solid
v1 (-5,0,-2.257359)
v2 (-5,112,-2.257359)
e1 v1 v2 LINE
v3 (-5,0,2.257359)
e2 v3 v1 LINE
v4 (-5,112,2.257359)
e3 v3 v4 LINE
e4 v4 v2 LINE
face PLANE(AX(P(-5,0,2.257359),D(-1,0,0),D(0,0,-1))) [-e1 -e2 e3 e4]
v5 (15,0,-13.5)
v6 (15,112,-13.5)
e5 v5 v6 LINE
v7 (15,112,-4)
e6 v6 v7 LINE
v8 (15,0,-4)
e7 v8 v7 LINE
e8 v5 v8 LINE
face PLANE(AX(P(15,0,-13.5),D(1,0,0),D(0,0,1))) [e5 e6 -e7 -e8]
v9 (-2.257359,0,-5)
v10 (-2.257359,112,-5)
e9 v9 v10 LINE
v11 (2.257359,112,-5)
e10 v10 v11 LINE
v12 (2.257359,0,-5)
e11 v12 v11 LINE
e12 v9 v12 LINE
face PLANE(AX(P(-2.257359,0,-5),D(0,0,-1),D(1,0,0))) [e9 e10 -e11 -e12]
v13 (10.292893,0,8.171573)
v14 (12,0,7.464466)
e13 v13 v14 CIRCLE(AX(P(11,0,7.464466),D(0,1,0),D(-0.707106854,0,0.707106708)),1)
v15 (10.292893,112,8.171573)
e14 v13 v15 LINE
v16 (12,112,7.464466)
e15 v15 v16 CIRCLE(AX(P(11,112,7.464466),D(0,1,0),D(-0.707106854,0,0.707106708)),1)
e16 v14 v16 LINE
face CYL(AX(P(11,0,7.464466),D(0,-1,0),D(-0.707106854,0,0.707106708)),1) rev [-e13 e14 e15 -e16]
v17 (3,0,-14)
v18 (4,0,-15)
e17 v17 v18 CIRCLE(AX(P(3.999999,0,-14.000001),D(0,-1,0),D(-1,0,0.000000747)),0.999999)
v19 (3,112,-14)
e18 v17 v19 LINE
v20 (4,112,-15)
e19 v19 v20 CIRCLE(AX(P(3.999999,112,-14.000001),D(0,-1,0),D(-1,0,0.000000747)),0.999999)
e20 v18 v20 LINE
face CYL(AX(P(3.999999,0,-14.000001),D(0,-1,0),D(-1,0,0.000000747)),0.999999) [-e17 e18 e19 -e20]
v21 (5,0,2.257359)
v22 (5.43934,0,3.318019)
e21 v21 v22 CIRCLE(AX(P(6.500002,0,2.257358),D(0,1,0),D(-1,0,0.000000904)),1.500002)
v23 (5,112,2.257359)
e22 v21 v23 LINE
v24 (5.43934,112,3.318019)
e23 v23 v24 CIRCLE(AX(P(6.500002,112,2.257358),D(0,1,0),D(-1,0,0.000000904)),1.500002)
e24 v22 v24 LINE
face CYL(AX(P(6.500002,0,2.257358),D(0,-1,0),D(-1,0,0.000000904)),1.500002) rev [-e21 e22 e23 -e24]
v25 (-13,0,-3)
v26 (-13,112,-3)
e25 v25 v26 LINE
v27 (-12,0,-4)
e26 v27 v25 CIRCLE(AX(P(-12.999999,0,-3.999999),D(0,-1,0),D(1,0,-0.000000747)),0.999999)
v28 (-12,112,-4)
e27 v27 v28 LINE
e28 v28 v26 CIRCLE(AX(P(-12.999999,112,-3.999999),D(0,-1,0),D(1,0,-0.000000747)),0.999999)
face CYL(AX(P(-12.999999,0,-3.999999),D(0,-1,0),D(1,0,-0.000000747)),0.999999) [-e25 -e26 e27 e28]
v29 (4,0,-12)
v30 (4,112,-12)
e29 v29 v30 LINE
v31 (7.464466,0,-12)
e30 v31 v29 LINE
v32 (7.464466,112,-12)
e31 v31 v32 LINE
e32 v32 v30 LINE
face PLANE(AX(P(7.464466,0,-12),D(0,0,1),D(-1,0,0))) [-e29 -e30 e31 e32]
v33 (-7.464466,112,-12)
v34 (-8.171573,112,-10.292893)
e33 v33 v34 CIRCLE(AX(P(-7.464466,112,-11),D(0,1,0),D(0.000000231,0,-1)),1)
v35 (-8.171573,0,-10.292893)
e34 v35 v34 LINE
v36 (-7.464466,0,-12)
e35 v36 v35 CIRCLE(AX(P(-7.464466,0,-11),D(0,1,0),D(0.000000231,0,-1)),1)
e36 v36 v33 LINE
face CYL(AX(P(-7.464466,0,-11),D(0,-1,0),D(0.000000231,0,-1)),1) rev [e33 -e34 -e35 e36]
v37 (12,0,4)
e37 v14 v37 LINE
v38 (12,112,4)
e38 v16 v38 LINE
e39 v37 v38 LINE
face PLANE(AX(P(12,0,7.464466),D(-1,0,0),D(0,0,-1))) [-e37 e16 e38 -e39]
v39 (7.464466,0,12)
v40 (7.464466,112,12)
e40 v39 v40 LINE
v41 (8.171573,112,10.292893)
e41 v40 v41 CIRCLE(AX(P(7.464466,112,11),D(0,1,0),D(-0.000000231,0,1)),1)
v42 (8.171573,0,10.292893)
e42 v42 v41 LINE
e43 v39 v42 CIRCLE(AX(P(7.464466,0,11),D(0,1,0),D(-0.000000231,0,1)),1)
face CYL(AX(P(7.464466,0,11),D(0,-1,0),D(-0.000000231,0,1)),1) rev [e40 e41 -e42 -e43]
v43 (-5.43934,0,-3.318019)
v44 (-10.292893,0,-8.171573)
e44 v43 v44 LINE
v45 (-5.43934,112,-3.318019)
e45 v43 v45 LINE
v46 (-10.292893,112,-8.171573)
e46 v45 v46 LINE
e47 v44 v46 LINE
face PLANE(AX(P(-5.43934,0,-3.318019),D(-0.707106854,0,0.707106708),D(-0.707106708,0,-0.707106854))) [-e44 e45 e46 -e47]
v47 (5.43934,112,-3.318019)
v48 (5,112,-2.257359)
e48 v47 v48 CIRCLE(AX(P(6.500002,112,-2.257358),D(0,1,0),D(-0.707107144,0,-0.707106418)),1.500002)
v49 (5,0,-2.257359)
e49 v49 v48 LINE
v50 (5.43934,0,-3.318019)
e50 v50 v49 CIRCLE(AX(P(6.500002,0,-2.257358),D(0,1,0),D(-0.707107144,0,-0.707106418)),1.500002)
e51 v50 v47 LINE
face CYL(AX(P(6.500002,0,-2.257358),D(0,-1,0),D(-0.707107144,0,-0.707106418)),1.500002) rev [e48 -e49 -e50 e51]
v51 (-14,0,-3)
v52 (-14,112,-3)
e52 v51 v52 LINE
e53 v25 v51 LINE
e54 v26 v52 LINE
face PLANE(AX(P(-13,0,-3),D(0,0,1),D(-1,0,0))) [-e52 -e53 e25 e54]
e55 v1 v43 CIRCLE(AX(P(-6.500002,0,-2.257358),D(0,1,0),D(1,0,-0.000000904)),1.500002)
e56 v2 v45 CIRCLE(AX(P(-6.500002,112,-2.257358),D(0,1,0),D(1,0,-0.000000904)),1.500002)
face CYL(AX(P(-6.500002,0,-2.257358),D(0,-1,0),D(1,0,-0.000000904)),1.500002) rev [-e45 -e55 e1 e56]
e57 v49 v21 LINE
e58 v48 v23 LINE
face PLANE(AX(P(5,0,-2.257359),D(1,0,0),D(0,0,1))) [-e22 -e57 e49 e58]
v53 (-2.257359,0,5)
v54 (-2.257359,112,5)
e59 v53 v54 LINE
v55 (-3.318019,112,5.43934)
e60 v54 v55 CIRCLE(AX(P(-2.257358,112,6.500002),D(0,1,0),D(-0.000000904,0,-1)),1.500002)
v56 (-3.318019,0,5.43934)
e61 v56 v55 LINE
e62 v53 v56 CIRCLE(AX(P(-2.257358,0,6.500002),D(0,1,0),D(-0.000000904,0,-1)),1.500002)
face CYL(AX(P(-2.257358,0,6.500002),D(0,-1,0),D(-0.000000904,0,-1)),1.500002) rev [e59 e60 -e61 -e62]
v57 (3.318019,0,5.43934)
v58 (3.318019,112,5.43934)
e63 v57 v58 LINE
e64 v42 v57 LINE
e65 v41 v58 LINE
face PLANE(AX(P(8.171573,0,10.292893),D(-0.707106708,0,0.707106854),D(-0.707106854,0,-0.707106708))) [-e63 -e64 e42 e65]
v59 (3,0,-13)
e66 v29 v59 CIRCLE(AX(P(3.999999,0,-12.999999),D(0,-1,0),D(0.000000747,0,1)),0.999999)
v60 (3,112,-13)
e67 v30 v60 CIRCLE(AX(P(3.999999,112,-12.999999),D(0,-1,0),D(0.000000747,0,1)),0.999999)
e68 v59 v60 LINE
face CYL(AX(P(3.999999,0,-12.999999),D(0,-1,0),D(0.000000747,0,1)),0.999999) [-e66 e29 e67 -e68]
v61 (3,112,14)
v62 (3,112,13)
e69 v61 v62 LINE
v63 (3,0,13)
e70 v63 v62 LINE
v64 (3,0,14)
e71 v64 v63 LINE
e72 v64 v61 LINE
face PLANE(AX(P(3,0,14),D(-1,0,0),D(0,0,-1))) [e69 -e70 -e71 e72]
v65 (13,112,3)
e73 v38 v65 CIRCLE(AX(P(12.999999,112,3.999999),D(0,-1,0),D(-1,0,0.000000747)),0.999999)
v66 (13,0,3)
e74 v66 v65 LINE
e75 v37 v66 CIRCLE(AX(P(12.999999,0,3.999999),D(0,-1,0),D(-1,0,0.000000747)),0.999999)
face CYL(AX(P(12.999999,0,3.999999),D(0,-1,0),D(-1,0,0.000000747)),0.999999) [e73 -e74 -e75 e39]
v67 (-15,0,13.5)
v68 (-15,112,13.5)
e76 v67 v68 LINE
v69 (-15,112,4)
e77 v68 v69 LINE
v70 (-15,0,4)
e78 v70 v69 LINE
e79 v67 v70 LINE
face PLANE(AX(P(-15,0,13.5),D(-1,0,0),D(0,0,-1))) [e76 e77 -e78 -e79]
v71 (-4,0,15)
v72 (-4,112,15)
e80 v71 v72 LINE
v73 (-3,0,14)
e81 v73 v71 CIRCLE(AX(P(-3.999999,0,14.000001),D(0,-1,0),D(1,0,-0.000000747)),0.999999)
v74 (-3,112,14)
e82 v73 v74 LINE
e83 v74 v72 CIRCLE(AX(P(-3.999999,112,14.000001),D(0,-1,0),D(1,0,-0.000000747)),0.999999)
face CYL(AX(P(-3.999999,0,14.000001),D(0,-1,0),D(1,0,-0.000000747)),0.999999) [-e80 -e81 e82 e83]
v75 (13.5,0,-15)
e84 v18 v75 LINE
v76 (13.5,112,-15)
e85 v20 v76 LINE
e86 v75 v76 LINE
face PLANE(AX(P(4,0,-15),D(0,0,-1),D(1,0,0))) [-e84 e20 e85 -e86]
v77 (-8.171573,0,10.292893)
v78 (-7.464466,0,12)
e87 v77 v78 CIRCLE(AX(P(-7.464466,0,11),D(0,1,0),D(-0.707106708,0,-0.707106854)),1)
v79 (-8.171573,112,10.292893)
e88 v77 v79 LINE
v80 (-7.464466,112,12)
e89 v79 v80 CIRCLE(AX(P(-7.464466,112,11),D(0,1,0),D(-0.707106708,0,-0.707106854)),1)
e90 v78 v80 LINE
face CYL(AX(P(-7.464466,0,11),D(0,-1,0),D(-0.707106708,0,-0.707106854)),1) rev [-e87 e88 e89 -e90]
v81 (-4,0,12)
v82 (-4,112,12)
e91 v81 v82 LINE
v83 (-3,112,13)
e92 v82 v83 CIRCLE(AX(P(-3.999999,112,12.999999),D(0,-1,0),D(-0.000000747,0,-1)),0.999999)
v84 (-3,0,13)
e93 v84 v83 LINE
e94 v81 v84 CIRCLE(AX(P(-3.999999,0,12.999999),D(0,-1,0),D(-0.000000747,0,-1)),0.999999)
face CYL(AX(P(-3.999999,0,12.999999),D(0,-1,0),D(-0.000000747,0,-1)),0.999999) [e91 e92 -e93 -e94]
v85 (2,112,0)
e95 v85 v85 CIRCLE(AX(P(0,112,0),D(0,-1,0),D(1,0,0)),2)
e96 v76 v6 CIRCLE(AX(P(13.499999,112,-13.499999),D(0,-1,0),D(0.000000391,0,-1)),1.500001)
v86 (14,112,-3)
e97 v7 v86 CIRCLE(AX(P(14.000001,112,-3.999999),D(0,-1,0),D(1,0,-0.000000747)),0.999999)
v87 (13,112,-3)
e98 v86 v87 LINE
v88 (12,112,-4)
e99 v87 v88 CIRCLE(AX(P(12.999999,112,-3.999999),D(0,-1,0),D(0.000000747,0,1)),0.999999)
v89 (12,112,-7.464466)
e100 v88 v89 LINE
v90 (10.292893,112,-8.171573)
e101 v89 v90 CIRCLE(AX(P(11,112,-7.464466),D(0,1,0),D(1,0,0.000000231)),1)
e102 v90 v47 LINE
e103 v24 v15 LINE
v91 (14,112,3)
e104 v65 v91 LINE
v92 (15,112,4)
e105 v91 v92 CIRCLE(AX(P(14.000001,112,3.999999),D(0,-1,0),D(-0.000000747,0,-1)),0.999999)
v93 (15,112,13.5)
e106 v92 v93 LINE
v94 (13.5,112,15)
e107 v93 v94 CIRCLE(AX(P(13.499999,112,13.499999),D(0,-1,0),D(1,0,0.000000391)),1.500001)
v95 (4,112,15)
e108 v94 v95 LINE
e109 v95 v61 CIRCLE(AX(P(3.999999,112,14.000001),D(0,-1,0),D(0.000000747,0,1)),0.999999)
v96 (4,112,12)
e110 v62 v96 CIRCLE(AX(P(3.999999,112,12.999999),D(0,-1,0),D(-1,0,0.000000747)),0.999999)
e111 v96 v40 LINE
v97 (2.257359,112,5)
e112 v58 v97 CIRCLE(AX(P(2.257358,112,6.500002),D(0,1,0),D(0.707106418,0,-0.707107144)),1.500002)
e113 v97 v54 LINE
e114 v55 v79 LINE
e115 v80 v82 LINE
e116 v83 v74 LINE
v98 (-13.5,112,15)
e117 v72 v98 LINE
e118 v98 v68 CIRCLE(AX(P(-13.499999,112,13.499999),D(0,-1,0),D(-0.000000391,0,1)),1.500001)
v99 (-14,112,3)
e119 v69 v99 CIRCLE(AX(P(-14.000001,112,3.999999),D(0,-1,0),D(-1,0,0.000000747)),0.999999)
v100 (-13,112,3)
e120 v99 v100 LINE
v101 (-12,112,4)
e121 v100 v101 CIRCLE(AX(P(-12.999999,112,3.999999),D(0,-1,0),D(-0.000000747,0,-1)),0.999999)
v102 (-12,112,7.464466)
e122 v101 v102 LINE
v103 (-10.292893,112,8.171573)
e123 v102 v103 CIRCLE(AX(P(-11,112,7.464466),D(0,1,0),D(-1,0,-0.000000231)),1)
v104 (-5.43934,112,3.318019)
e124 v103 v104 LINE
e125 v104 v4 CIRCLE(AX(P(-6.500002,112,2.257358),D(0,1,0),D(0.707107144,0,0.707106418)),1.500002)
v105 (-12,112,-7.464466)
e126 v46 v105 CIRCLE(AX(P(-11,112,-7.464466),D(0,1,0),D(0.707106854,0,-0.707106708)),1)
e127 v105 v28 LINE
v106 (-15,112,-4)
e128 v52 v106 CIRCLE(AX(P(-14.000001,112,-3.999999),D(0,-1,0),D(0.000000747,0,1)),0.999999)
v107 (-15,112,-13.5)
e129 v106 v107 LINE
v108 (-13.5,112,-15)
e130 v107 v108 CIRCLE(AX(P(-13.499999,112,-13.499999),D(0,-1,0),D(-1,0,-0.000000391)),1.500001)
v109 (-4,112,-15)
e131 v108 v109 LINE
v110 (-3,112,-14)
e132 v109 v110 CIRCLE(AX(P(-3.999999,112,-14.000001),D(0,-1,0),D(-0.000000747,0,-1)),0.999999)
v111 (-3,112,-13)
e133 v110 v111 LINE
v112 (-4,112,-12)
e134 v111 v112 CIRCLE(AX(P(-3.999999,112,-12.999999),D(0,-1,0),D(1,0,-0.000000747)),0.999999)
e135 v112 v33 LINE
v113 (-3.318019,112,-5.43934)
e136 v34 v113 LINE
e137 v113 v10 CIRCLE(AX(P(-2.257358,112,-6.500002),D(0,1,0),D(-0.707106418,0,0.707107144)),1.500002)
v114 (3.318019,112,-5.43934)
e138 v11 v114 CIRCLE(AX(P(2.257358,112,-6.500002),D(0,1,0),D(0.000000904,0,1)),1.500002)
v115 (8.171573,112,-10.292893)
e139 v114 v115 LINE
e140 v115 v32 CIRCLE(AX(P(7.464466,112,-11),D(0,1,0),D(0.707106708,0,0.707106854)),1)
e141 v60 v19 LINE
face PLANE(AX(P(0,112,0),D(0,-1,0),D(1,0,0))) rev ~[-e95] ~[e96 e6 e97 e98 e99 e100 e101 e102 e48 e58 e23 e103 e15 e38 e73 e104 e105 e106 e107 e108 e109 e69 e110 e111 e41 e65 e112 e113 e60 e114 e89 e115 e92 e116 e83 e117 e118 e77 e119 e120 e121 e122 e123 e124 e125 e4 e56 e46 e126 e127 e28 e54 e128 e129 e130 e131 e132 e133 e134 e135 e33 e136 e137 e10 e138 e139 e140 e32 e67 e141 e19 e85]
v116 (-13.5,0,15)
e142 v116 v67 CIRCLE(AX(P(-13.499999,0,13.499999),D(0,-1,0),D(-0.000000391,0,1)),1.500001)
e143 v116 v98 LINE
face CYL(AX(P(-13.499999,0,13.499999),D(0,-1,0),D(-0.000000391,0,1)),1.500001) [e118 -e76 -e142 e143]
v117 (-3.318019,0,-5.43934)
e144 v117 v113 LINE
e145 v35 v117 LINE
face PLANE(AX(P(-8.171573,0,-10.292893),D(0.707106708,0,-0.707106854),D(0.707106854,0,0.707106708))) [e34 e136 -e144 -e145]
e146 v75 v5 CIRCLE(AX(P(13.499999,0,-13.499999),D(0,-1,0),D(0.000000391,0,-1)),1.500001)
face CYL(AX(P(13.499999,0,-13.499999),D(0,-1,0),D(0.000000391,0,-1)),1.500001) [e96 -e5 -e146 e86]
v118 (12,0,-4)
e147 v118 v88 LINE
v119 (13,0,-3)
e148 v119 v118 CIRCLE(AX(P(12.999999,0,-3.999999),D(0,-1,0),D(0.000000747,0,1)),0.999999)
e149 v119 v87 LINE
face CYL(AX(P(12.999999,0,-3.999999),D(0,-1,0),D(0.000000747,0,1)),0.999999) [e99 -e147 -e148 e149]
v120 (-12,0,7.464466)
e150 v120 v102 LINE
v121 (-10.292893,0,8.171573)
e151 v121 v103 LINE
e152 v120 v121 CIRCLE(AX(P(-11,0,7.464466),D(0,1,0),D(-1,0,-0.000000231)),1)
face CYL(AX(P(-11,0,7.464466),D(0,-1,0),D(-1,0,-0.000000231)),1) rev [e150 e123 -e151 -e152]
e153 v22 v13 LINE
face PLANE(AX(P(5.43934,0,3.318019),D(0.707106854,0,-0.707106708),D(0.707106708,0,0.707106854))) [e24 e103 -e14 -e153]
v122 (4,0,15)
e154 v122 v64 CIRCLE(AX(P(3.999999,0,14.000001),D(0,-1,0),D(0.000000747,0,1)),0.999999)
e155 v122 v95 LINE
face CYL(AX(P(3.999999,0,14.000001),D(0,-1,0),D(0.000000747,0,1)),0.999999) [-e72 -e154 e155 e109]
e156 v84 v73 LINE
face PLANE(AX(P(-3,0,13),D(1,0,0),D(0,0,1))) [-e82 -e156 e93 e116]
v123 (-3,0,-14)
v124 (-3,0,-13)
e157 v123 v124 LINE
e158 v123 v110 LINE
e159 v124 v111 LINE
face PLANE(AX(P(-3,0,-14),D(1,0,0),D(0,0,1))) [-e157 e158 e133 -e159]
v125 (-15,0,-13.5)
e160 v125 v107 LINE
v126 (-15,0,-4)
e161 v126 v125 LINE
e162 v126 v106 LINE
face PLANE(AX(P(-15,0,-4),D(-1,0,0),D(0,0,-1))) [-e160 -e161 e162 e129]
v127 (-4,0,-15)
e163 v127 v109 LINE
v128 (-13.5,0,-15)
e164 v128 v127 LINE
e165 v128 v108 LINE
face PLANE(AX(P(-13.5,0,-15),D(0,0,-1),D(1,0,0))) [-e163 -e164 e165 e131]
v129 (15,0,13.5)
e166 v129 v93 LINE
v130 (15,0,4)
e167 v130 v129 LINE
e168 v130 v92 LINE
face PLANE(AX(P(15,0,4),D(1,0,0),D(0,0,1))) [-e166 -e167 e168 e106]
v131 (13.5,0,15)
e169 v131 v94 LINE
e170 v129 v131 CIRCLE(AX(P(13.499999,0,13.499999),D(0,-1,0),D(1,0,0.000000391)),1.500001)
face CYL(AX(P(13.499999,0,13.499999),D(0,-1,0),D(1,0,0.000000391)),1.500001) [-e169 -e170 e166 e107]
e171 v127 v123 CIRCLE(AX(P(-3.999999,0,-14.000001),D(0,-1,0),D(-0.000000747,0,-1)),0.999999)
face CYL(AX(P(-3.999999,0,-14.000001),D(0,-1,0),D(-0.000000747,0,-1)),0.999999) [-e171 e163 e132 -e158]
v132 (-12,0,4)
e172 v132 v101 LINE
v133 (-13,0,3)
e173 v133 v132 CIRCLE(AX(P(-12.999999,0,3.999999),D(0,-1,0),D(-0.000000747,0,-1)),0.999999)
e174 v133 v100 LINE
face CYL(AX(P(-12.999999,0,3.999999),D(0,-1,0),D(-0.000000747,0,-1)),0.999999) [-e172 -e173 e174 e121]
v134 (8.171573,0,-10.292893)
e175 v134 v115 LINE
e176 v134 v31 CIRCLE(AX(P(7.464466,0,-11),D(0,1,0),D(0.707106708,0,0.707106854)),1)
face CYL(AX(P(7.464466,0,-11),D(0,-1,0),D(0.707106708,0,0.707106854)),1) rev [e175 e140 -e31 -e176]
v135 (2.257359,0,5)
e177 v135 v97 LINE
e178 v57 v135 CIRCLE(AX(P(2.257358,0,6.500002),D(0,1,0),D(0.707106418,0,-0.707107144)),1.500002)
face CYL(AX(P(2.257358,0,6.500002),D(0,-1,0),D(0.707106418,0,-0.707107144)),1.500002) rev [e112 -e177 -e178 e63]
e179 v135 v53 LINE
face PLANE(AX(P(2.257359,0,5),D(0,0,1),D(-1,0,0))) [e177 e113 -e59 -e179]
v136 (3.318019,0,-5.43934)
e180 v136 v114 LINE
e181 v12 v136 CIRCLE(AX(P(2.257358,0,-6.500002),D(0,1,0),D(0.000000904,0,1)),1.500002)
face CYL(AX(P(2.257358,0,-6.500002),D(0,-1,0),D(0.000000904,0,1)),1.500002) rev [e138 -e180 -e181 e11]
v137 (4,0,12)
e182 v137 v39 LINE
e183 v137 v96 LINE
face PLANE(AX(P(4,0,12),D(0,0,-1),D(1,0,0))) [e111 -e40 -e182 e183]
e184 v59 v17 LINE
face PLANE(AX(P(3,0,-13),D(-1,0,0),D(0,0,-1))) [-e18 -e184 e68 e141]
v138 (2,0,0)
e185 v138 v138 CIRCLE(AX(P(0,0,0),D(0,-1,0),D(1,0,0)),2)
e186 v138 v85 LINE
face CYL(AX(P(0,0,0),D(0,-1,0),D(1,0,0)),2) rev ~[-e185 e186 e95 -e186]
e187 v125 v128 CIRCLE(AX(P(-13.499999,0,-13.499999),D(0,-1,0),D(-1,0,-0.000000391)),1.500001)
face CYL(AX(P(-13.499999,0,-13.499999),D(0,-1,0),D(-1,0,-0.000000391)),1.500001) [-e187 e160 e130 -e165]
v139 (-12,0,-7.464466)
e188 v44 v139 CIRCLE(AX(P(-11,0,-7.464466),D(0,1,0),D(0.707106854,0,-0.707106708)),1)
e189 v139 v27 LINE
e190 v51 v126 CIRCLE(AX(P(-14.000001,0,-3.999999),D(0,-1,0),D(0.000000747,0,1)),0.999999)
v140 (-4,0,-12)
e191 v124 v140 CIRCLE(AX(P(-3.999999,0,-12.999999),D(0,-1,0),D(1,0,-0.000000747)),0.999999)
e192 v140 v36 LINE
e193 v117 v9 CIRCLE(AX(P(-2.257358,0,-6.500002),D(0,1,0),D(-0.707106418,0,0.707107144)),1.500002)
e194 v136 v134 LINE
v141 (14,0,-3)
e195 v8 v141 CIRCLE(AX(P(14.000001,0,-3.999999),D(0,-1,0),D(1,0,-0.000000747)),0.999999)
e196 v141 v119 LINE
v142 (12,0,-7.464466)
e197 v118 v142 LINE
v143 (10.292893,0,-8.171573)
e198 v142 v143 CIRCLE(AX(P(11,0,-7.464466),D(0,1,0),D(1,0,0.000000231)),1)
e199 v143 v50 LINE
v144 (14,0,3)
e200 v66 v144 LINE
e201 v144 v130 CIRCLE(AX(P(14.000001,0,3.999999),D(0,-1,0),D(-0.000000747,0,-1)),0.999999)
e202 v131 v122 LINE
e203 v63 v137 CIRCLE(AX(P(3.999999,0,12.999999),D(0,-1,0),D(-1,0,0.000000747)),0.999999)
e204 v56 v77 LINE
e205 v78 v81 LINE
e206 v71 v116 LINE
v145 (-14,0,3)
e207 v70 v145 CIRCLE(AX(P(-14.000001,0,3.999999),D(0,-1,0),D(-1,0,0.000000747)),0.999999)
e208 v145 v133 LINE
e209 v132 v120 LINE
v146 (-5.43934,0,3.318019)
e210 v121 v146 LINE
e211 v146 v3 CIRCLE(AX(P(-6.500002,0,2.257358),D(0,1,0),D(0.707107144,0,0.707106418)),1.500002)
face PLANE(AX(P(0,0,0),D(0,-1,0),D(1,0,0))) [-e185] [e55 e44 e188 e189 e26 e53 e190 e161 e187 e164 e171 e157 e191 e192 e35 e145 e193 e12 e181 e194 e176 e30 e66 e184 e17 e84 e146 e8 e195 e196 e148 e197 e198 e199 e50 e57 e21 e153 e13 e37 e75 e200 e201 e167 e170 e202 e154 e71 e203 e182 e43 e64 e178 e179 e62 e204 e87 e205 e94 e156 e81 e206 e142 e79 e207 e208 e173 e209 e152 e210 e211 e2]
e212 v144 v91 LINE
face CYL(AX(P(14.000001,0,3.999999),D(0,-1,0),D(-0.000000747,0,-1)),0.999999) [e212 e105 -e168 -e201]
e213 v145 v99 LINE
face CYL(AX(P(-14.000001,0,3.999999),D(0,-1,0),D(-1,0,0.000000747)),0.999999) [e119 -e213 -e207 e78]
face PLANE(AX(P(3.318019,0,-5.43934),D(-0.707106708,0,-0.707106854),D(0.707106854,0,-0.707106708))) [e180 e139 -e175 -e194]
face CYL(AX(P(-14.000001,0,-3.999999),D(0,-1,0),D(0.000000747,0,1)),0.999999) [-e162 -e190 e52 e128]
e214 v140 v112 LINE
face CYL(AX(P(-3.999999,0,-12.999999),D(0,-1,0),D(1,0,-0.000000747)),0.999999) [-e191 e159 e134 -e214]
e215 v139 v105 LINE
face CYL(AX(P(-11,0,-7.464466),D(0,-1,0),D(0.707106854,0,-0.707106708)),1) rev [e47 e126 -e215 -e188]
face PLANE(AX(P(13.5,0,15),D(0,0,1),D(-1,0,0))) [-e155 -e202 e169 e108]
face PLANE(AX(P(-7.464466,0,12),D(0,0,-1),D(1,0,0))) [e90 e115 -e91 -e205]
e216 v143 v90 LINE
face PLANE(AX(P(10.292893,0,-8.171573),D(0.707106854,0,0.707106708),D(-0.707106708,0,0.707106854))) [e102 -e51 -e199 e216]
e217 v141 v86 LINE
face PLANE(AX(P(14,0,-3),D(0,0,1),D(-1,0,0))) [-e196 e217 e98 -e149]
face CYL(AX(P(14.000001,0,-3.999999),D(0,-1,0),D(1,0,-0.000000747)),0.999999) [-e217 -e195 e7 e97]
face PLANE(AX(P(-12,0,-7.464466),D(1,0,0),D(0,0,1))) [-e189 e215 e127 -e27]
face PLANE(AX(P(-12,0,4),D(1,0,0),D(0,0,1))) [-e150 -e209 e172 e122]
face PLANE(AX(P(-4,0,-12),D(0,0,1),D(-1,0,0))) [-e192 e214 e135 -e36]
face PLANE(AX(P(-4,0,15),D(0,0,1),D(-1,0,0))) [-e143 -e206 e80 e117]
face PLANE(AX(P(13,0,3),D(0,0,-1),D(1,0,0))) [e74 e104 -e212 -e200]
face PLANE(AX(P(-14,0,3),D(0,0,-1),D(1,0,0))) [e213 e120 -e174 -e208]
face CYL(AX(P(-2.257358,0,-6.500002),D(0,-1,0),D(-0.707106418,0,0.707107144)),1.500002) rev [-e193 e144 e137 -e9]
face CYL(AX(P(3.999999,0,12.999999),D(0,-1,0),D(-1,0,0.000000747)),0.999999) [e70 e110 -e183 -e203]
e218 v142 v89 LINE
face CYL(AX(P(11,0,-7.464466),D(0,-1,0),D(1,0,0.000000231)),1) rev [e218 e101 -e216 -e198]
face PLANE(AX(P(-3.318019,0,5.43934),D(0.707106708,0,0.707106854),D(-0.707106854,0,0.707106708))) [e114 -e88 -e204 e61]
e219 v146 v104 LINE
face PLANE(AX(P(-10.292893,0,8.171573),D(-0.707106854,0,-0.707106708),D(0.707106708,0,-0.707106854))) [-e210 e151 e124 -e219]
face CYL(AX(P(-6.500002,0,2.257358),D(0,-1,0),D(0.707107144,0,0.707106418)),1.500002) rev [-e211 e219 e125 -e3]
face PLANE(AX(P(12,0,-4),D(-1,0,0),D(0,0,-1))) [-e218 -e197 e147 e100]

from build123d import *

# Parameters (mm, degrees)
F0_R     = 2
F1_DEPTH = 112


with BuildPart() as f1:
    # F0 (on Front) → F1 (new body)
    with BuildSketch(Plane.XZ):
        with BuildLine():
            ThreePointArc((15, 13.5), (14.56066, 14.56066), (13.5, 15))
            Line((13.5, 15), (4, 15))
            ThreePointArc((4, 15), (3.292893, 14.707107), (3, 14))
            Line((3, 14), (3, 13))
            ThreePointArc((3, 13), (3.292893, 12.292893), (4, 12))
            Line((4, 12), (7.464466, 12))
            ThreePointArc((7.464466, 12), (8.388346, 11.382683), (8.171573, 10.292893))
            Line((8.171573, 10.292893), (3.318019, 5.43934))
            ThreePointArc((3.318019, 5.43934), (2.831384, 5.114181), (2.257359, 5))
            Line((2.257359, 5), (-2.257359, 5))
            ThreePointArc((-2.257359, 5), (-2.831384, 5.114181), (-3.318019, 5.43934))
            Line((-3.318019, 5.43934), (-8.171573, 10.292893))
            ThreePointArc((-8.171573, 10.292893), (-8.388346, 11.382683), (-7.464466, 12))
            Line((-7.464466, 12), (-4, 12))
            ThreePointArc((-4, 12), (-3.292893, 12.292893), (-3, 13))
            Line((-3, 13), (-3, 14))
            ThreePointArc((-3, 14), (-3.292893, 14.707107), (-4, 15))
            Line((-4, 15), (-13.5, 15))
            ThreePointArc((-13.5, 15), (-14.56066, 14.56066), (-15, 13.5))
            Line((-15, 13.5), (-15, 4))
            ThreePointArc((-15, 4), (-14.707107, 3.292893), (-14, 3))
            Line((-14, 3), (-13, 3))
            ThreePointArc((-13, 3), (-12.292893, 3.292893), (-12, 4))
            Line((-12, 4), (-12, 7.464466))
            ThreePointArc((-12, 7.464466), (-11.382683, 8.388346), (-10.292893, 8.171573))
            Line((-10.292893, 8.171573), (-5.43934, 3.318019))
            ThreePointArc((-5.43934, 3.318019), (-5.114181, 2.831384), (-5, 2.257359))
            Line((-5, 2.257359), (-5, -2.257359))
            ThreePointArc((-5, -2.257359), (-5.114181, -2.831384), (-5.43934, -3.318019))
            Line((-5.43934, -3.318019), (-10.292893, -8.171573))
            ThreePointArc((-10.292893, -8.171573), (-11.382683, -8.388346), (-12, -7.464466))
            Line((-12, -7.464466), (-12, -4))
            ThreePointArc((-12, -4), (-12.292893, -3.292893), (-13, -3))
            Line((-13, -3), (-14, -3))
            ThreePointArc((-14, -3), (-14.707107, -3.292893), (-15, -4))
            Line((-15, -4), (-15, -13.5))
            ThreePointArc((-15, -13.5), (-14.56066, -14.56066), (-13.5, -15))
            Line((-13.5, -15), (-4, -15))
            ThreePointArc((-4, -15), (-3.292893, -14.707107), (-3, -14))
            Line((-3, -14), (-3, -13))
            ThreePointArc((-3, -13), (-3.292893, -12.292893), (-4, -12))
            Line((-4, -12), (-7.464466, -12))
            ThreePointArc((-7.464466, -12), (-8.388346, -11.382683), (-8.171573, -10.292893))
            Line((-8.171573, -10.292893), (-3.318019, -5.43934))
            ThreePointArc((-3.318019, -5.43934), (-2.831384, -5.114181), (-2.257359, -5))
            Line((-2.257359, -5), (2.257359, -5))
            ThreePointArc((2.257359, -5), (2.831384, -5.114181), (3.318019, -5.43934))
            Line((3.318019, -5.43934), (8.171573, -10.292893))
            ThreePointArc((8.171573, -10.292893), (8.388346, -11.382683), (7.464466, -12))
            Line((7.464466, -12), (4, -12))
            ThreePointArc((4, -12), (3.292893, -12.292893), (3, -13))
            Line((3, -13), (3, -14))
            ThreePointArc((3, -14), (3.292893, -14.707107), (4, -15))
            Line((4, -15), (13.5, -15))
            ThreePointArc((13.5, -15), (14.56066, -14.56066), (15, -13.5))
            Line((15, -13.5), (15, -4))
            ThreePointArc((15, -4), (14.707107, -3.292893), (14, -3))
            Line((14, -3), (13, -3))
            ThreePointArc((13, -3), (12.292893, -3.292893), (12, -4))
            Line((12, -4), (12, -7.464466))
            ThreePointArc((12, -7.464466), (11.382683, -8.388346), (10.292893, -8.171573))
            Line((10.292893, -8.171573), (5.43934, -3.318019))
            ThreePointArc((5.43934, -3.318019), (5.114181, -2.831384), (5, -2.257359))
            Line((5, -2.257359), (5, 2.257359))
            ThreePointArc((5, 2.257359), (5.114181, 2.831384), (5.43934, 3.318019))
            Line((5.43934, 3.318019), (10.292893, 8.171573))
            ThreePointArc((10.292893, 8.171573), (11.382683, 8.388346), (12, 7.464466))
            Line((12, 7.464466), (12, 4))
            ThreePointArc((12, 4), (12.292893, 3.292893), (13, 3))
            Line((13, 3), (14, 3))
            ThreePointArc((14, 3), (14.707107, 3.292893), (15, 4))
            Line((15, 4), (15, 13.5))
        make_face()
        Circle(F0_R, mode=Mode.SUBTRACT)
    extrude(amount=-F1_DEPTH)


solid = f1.part
